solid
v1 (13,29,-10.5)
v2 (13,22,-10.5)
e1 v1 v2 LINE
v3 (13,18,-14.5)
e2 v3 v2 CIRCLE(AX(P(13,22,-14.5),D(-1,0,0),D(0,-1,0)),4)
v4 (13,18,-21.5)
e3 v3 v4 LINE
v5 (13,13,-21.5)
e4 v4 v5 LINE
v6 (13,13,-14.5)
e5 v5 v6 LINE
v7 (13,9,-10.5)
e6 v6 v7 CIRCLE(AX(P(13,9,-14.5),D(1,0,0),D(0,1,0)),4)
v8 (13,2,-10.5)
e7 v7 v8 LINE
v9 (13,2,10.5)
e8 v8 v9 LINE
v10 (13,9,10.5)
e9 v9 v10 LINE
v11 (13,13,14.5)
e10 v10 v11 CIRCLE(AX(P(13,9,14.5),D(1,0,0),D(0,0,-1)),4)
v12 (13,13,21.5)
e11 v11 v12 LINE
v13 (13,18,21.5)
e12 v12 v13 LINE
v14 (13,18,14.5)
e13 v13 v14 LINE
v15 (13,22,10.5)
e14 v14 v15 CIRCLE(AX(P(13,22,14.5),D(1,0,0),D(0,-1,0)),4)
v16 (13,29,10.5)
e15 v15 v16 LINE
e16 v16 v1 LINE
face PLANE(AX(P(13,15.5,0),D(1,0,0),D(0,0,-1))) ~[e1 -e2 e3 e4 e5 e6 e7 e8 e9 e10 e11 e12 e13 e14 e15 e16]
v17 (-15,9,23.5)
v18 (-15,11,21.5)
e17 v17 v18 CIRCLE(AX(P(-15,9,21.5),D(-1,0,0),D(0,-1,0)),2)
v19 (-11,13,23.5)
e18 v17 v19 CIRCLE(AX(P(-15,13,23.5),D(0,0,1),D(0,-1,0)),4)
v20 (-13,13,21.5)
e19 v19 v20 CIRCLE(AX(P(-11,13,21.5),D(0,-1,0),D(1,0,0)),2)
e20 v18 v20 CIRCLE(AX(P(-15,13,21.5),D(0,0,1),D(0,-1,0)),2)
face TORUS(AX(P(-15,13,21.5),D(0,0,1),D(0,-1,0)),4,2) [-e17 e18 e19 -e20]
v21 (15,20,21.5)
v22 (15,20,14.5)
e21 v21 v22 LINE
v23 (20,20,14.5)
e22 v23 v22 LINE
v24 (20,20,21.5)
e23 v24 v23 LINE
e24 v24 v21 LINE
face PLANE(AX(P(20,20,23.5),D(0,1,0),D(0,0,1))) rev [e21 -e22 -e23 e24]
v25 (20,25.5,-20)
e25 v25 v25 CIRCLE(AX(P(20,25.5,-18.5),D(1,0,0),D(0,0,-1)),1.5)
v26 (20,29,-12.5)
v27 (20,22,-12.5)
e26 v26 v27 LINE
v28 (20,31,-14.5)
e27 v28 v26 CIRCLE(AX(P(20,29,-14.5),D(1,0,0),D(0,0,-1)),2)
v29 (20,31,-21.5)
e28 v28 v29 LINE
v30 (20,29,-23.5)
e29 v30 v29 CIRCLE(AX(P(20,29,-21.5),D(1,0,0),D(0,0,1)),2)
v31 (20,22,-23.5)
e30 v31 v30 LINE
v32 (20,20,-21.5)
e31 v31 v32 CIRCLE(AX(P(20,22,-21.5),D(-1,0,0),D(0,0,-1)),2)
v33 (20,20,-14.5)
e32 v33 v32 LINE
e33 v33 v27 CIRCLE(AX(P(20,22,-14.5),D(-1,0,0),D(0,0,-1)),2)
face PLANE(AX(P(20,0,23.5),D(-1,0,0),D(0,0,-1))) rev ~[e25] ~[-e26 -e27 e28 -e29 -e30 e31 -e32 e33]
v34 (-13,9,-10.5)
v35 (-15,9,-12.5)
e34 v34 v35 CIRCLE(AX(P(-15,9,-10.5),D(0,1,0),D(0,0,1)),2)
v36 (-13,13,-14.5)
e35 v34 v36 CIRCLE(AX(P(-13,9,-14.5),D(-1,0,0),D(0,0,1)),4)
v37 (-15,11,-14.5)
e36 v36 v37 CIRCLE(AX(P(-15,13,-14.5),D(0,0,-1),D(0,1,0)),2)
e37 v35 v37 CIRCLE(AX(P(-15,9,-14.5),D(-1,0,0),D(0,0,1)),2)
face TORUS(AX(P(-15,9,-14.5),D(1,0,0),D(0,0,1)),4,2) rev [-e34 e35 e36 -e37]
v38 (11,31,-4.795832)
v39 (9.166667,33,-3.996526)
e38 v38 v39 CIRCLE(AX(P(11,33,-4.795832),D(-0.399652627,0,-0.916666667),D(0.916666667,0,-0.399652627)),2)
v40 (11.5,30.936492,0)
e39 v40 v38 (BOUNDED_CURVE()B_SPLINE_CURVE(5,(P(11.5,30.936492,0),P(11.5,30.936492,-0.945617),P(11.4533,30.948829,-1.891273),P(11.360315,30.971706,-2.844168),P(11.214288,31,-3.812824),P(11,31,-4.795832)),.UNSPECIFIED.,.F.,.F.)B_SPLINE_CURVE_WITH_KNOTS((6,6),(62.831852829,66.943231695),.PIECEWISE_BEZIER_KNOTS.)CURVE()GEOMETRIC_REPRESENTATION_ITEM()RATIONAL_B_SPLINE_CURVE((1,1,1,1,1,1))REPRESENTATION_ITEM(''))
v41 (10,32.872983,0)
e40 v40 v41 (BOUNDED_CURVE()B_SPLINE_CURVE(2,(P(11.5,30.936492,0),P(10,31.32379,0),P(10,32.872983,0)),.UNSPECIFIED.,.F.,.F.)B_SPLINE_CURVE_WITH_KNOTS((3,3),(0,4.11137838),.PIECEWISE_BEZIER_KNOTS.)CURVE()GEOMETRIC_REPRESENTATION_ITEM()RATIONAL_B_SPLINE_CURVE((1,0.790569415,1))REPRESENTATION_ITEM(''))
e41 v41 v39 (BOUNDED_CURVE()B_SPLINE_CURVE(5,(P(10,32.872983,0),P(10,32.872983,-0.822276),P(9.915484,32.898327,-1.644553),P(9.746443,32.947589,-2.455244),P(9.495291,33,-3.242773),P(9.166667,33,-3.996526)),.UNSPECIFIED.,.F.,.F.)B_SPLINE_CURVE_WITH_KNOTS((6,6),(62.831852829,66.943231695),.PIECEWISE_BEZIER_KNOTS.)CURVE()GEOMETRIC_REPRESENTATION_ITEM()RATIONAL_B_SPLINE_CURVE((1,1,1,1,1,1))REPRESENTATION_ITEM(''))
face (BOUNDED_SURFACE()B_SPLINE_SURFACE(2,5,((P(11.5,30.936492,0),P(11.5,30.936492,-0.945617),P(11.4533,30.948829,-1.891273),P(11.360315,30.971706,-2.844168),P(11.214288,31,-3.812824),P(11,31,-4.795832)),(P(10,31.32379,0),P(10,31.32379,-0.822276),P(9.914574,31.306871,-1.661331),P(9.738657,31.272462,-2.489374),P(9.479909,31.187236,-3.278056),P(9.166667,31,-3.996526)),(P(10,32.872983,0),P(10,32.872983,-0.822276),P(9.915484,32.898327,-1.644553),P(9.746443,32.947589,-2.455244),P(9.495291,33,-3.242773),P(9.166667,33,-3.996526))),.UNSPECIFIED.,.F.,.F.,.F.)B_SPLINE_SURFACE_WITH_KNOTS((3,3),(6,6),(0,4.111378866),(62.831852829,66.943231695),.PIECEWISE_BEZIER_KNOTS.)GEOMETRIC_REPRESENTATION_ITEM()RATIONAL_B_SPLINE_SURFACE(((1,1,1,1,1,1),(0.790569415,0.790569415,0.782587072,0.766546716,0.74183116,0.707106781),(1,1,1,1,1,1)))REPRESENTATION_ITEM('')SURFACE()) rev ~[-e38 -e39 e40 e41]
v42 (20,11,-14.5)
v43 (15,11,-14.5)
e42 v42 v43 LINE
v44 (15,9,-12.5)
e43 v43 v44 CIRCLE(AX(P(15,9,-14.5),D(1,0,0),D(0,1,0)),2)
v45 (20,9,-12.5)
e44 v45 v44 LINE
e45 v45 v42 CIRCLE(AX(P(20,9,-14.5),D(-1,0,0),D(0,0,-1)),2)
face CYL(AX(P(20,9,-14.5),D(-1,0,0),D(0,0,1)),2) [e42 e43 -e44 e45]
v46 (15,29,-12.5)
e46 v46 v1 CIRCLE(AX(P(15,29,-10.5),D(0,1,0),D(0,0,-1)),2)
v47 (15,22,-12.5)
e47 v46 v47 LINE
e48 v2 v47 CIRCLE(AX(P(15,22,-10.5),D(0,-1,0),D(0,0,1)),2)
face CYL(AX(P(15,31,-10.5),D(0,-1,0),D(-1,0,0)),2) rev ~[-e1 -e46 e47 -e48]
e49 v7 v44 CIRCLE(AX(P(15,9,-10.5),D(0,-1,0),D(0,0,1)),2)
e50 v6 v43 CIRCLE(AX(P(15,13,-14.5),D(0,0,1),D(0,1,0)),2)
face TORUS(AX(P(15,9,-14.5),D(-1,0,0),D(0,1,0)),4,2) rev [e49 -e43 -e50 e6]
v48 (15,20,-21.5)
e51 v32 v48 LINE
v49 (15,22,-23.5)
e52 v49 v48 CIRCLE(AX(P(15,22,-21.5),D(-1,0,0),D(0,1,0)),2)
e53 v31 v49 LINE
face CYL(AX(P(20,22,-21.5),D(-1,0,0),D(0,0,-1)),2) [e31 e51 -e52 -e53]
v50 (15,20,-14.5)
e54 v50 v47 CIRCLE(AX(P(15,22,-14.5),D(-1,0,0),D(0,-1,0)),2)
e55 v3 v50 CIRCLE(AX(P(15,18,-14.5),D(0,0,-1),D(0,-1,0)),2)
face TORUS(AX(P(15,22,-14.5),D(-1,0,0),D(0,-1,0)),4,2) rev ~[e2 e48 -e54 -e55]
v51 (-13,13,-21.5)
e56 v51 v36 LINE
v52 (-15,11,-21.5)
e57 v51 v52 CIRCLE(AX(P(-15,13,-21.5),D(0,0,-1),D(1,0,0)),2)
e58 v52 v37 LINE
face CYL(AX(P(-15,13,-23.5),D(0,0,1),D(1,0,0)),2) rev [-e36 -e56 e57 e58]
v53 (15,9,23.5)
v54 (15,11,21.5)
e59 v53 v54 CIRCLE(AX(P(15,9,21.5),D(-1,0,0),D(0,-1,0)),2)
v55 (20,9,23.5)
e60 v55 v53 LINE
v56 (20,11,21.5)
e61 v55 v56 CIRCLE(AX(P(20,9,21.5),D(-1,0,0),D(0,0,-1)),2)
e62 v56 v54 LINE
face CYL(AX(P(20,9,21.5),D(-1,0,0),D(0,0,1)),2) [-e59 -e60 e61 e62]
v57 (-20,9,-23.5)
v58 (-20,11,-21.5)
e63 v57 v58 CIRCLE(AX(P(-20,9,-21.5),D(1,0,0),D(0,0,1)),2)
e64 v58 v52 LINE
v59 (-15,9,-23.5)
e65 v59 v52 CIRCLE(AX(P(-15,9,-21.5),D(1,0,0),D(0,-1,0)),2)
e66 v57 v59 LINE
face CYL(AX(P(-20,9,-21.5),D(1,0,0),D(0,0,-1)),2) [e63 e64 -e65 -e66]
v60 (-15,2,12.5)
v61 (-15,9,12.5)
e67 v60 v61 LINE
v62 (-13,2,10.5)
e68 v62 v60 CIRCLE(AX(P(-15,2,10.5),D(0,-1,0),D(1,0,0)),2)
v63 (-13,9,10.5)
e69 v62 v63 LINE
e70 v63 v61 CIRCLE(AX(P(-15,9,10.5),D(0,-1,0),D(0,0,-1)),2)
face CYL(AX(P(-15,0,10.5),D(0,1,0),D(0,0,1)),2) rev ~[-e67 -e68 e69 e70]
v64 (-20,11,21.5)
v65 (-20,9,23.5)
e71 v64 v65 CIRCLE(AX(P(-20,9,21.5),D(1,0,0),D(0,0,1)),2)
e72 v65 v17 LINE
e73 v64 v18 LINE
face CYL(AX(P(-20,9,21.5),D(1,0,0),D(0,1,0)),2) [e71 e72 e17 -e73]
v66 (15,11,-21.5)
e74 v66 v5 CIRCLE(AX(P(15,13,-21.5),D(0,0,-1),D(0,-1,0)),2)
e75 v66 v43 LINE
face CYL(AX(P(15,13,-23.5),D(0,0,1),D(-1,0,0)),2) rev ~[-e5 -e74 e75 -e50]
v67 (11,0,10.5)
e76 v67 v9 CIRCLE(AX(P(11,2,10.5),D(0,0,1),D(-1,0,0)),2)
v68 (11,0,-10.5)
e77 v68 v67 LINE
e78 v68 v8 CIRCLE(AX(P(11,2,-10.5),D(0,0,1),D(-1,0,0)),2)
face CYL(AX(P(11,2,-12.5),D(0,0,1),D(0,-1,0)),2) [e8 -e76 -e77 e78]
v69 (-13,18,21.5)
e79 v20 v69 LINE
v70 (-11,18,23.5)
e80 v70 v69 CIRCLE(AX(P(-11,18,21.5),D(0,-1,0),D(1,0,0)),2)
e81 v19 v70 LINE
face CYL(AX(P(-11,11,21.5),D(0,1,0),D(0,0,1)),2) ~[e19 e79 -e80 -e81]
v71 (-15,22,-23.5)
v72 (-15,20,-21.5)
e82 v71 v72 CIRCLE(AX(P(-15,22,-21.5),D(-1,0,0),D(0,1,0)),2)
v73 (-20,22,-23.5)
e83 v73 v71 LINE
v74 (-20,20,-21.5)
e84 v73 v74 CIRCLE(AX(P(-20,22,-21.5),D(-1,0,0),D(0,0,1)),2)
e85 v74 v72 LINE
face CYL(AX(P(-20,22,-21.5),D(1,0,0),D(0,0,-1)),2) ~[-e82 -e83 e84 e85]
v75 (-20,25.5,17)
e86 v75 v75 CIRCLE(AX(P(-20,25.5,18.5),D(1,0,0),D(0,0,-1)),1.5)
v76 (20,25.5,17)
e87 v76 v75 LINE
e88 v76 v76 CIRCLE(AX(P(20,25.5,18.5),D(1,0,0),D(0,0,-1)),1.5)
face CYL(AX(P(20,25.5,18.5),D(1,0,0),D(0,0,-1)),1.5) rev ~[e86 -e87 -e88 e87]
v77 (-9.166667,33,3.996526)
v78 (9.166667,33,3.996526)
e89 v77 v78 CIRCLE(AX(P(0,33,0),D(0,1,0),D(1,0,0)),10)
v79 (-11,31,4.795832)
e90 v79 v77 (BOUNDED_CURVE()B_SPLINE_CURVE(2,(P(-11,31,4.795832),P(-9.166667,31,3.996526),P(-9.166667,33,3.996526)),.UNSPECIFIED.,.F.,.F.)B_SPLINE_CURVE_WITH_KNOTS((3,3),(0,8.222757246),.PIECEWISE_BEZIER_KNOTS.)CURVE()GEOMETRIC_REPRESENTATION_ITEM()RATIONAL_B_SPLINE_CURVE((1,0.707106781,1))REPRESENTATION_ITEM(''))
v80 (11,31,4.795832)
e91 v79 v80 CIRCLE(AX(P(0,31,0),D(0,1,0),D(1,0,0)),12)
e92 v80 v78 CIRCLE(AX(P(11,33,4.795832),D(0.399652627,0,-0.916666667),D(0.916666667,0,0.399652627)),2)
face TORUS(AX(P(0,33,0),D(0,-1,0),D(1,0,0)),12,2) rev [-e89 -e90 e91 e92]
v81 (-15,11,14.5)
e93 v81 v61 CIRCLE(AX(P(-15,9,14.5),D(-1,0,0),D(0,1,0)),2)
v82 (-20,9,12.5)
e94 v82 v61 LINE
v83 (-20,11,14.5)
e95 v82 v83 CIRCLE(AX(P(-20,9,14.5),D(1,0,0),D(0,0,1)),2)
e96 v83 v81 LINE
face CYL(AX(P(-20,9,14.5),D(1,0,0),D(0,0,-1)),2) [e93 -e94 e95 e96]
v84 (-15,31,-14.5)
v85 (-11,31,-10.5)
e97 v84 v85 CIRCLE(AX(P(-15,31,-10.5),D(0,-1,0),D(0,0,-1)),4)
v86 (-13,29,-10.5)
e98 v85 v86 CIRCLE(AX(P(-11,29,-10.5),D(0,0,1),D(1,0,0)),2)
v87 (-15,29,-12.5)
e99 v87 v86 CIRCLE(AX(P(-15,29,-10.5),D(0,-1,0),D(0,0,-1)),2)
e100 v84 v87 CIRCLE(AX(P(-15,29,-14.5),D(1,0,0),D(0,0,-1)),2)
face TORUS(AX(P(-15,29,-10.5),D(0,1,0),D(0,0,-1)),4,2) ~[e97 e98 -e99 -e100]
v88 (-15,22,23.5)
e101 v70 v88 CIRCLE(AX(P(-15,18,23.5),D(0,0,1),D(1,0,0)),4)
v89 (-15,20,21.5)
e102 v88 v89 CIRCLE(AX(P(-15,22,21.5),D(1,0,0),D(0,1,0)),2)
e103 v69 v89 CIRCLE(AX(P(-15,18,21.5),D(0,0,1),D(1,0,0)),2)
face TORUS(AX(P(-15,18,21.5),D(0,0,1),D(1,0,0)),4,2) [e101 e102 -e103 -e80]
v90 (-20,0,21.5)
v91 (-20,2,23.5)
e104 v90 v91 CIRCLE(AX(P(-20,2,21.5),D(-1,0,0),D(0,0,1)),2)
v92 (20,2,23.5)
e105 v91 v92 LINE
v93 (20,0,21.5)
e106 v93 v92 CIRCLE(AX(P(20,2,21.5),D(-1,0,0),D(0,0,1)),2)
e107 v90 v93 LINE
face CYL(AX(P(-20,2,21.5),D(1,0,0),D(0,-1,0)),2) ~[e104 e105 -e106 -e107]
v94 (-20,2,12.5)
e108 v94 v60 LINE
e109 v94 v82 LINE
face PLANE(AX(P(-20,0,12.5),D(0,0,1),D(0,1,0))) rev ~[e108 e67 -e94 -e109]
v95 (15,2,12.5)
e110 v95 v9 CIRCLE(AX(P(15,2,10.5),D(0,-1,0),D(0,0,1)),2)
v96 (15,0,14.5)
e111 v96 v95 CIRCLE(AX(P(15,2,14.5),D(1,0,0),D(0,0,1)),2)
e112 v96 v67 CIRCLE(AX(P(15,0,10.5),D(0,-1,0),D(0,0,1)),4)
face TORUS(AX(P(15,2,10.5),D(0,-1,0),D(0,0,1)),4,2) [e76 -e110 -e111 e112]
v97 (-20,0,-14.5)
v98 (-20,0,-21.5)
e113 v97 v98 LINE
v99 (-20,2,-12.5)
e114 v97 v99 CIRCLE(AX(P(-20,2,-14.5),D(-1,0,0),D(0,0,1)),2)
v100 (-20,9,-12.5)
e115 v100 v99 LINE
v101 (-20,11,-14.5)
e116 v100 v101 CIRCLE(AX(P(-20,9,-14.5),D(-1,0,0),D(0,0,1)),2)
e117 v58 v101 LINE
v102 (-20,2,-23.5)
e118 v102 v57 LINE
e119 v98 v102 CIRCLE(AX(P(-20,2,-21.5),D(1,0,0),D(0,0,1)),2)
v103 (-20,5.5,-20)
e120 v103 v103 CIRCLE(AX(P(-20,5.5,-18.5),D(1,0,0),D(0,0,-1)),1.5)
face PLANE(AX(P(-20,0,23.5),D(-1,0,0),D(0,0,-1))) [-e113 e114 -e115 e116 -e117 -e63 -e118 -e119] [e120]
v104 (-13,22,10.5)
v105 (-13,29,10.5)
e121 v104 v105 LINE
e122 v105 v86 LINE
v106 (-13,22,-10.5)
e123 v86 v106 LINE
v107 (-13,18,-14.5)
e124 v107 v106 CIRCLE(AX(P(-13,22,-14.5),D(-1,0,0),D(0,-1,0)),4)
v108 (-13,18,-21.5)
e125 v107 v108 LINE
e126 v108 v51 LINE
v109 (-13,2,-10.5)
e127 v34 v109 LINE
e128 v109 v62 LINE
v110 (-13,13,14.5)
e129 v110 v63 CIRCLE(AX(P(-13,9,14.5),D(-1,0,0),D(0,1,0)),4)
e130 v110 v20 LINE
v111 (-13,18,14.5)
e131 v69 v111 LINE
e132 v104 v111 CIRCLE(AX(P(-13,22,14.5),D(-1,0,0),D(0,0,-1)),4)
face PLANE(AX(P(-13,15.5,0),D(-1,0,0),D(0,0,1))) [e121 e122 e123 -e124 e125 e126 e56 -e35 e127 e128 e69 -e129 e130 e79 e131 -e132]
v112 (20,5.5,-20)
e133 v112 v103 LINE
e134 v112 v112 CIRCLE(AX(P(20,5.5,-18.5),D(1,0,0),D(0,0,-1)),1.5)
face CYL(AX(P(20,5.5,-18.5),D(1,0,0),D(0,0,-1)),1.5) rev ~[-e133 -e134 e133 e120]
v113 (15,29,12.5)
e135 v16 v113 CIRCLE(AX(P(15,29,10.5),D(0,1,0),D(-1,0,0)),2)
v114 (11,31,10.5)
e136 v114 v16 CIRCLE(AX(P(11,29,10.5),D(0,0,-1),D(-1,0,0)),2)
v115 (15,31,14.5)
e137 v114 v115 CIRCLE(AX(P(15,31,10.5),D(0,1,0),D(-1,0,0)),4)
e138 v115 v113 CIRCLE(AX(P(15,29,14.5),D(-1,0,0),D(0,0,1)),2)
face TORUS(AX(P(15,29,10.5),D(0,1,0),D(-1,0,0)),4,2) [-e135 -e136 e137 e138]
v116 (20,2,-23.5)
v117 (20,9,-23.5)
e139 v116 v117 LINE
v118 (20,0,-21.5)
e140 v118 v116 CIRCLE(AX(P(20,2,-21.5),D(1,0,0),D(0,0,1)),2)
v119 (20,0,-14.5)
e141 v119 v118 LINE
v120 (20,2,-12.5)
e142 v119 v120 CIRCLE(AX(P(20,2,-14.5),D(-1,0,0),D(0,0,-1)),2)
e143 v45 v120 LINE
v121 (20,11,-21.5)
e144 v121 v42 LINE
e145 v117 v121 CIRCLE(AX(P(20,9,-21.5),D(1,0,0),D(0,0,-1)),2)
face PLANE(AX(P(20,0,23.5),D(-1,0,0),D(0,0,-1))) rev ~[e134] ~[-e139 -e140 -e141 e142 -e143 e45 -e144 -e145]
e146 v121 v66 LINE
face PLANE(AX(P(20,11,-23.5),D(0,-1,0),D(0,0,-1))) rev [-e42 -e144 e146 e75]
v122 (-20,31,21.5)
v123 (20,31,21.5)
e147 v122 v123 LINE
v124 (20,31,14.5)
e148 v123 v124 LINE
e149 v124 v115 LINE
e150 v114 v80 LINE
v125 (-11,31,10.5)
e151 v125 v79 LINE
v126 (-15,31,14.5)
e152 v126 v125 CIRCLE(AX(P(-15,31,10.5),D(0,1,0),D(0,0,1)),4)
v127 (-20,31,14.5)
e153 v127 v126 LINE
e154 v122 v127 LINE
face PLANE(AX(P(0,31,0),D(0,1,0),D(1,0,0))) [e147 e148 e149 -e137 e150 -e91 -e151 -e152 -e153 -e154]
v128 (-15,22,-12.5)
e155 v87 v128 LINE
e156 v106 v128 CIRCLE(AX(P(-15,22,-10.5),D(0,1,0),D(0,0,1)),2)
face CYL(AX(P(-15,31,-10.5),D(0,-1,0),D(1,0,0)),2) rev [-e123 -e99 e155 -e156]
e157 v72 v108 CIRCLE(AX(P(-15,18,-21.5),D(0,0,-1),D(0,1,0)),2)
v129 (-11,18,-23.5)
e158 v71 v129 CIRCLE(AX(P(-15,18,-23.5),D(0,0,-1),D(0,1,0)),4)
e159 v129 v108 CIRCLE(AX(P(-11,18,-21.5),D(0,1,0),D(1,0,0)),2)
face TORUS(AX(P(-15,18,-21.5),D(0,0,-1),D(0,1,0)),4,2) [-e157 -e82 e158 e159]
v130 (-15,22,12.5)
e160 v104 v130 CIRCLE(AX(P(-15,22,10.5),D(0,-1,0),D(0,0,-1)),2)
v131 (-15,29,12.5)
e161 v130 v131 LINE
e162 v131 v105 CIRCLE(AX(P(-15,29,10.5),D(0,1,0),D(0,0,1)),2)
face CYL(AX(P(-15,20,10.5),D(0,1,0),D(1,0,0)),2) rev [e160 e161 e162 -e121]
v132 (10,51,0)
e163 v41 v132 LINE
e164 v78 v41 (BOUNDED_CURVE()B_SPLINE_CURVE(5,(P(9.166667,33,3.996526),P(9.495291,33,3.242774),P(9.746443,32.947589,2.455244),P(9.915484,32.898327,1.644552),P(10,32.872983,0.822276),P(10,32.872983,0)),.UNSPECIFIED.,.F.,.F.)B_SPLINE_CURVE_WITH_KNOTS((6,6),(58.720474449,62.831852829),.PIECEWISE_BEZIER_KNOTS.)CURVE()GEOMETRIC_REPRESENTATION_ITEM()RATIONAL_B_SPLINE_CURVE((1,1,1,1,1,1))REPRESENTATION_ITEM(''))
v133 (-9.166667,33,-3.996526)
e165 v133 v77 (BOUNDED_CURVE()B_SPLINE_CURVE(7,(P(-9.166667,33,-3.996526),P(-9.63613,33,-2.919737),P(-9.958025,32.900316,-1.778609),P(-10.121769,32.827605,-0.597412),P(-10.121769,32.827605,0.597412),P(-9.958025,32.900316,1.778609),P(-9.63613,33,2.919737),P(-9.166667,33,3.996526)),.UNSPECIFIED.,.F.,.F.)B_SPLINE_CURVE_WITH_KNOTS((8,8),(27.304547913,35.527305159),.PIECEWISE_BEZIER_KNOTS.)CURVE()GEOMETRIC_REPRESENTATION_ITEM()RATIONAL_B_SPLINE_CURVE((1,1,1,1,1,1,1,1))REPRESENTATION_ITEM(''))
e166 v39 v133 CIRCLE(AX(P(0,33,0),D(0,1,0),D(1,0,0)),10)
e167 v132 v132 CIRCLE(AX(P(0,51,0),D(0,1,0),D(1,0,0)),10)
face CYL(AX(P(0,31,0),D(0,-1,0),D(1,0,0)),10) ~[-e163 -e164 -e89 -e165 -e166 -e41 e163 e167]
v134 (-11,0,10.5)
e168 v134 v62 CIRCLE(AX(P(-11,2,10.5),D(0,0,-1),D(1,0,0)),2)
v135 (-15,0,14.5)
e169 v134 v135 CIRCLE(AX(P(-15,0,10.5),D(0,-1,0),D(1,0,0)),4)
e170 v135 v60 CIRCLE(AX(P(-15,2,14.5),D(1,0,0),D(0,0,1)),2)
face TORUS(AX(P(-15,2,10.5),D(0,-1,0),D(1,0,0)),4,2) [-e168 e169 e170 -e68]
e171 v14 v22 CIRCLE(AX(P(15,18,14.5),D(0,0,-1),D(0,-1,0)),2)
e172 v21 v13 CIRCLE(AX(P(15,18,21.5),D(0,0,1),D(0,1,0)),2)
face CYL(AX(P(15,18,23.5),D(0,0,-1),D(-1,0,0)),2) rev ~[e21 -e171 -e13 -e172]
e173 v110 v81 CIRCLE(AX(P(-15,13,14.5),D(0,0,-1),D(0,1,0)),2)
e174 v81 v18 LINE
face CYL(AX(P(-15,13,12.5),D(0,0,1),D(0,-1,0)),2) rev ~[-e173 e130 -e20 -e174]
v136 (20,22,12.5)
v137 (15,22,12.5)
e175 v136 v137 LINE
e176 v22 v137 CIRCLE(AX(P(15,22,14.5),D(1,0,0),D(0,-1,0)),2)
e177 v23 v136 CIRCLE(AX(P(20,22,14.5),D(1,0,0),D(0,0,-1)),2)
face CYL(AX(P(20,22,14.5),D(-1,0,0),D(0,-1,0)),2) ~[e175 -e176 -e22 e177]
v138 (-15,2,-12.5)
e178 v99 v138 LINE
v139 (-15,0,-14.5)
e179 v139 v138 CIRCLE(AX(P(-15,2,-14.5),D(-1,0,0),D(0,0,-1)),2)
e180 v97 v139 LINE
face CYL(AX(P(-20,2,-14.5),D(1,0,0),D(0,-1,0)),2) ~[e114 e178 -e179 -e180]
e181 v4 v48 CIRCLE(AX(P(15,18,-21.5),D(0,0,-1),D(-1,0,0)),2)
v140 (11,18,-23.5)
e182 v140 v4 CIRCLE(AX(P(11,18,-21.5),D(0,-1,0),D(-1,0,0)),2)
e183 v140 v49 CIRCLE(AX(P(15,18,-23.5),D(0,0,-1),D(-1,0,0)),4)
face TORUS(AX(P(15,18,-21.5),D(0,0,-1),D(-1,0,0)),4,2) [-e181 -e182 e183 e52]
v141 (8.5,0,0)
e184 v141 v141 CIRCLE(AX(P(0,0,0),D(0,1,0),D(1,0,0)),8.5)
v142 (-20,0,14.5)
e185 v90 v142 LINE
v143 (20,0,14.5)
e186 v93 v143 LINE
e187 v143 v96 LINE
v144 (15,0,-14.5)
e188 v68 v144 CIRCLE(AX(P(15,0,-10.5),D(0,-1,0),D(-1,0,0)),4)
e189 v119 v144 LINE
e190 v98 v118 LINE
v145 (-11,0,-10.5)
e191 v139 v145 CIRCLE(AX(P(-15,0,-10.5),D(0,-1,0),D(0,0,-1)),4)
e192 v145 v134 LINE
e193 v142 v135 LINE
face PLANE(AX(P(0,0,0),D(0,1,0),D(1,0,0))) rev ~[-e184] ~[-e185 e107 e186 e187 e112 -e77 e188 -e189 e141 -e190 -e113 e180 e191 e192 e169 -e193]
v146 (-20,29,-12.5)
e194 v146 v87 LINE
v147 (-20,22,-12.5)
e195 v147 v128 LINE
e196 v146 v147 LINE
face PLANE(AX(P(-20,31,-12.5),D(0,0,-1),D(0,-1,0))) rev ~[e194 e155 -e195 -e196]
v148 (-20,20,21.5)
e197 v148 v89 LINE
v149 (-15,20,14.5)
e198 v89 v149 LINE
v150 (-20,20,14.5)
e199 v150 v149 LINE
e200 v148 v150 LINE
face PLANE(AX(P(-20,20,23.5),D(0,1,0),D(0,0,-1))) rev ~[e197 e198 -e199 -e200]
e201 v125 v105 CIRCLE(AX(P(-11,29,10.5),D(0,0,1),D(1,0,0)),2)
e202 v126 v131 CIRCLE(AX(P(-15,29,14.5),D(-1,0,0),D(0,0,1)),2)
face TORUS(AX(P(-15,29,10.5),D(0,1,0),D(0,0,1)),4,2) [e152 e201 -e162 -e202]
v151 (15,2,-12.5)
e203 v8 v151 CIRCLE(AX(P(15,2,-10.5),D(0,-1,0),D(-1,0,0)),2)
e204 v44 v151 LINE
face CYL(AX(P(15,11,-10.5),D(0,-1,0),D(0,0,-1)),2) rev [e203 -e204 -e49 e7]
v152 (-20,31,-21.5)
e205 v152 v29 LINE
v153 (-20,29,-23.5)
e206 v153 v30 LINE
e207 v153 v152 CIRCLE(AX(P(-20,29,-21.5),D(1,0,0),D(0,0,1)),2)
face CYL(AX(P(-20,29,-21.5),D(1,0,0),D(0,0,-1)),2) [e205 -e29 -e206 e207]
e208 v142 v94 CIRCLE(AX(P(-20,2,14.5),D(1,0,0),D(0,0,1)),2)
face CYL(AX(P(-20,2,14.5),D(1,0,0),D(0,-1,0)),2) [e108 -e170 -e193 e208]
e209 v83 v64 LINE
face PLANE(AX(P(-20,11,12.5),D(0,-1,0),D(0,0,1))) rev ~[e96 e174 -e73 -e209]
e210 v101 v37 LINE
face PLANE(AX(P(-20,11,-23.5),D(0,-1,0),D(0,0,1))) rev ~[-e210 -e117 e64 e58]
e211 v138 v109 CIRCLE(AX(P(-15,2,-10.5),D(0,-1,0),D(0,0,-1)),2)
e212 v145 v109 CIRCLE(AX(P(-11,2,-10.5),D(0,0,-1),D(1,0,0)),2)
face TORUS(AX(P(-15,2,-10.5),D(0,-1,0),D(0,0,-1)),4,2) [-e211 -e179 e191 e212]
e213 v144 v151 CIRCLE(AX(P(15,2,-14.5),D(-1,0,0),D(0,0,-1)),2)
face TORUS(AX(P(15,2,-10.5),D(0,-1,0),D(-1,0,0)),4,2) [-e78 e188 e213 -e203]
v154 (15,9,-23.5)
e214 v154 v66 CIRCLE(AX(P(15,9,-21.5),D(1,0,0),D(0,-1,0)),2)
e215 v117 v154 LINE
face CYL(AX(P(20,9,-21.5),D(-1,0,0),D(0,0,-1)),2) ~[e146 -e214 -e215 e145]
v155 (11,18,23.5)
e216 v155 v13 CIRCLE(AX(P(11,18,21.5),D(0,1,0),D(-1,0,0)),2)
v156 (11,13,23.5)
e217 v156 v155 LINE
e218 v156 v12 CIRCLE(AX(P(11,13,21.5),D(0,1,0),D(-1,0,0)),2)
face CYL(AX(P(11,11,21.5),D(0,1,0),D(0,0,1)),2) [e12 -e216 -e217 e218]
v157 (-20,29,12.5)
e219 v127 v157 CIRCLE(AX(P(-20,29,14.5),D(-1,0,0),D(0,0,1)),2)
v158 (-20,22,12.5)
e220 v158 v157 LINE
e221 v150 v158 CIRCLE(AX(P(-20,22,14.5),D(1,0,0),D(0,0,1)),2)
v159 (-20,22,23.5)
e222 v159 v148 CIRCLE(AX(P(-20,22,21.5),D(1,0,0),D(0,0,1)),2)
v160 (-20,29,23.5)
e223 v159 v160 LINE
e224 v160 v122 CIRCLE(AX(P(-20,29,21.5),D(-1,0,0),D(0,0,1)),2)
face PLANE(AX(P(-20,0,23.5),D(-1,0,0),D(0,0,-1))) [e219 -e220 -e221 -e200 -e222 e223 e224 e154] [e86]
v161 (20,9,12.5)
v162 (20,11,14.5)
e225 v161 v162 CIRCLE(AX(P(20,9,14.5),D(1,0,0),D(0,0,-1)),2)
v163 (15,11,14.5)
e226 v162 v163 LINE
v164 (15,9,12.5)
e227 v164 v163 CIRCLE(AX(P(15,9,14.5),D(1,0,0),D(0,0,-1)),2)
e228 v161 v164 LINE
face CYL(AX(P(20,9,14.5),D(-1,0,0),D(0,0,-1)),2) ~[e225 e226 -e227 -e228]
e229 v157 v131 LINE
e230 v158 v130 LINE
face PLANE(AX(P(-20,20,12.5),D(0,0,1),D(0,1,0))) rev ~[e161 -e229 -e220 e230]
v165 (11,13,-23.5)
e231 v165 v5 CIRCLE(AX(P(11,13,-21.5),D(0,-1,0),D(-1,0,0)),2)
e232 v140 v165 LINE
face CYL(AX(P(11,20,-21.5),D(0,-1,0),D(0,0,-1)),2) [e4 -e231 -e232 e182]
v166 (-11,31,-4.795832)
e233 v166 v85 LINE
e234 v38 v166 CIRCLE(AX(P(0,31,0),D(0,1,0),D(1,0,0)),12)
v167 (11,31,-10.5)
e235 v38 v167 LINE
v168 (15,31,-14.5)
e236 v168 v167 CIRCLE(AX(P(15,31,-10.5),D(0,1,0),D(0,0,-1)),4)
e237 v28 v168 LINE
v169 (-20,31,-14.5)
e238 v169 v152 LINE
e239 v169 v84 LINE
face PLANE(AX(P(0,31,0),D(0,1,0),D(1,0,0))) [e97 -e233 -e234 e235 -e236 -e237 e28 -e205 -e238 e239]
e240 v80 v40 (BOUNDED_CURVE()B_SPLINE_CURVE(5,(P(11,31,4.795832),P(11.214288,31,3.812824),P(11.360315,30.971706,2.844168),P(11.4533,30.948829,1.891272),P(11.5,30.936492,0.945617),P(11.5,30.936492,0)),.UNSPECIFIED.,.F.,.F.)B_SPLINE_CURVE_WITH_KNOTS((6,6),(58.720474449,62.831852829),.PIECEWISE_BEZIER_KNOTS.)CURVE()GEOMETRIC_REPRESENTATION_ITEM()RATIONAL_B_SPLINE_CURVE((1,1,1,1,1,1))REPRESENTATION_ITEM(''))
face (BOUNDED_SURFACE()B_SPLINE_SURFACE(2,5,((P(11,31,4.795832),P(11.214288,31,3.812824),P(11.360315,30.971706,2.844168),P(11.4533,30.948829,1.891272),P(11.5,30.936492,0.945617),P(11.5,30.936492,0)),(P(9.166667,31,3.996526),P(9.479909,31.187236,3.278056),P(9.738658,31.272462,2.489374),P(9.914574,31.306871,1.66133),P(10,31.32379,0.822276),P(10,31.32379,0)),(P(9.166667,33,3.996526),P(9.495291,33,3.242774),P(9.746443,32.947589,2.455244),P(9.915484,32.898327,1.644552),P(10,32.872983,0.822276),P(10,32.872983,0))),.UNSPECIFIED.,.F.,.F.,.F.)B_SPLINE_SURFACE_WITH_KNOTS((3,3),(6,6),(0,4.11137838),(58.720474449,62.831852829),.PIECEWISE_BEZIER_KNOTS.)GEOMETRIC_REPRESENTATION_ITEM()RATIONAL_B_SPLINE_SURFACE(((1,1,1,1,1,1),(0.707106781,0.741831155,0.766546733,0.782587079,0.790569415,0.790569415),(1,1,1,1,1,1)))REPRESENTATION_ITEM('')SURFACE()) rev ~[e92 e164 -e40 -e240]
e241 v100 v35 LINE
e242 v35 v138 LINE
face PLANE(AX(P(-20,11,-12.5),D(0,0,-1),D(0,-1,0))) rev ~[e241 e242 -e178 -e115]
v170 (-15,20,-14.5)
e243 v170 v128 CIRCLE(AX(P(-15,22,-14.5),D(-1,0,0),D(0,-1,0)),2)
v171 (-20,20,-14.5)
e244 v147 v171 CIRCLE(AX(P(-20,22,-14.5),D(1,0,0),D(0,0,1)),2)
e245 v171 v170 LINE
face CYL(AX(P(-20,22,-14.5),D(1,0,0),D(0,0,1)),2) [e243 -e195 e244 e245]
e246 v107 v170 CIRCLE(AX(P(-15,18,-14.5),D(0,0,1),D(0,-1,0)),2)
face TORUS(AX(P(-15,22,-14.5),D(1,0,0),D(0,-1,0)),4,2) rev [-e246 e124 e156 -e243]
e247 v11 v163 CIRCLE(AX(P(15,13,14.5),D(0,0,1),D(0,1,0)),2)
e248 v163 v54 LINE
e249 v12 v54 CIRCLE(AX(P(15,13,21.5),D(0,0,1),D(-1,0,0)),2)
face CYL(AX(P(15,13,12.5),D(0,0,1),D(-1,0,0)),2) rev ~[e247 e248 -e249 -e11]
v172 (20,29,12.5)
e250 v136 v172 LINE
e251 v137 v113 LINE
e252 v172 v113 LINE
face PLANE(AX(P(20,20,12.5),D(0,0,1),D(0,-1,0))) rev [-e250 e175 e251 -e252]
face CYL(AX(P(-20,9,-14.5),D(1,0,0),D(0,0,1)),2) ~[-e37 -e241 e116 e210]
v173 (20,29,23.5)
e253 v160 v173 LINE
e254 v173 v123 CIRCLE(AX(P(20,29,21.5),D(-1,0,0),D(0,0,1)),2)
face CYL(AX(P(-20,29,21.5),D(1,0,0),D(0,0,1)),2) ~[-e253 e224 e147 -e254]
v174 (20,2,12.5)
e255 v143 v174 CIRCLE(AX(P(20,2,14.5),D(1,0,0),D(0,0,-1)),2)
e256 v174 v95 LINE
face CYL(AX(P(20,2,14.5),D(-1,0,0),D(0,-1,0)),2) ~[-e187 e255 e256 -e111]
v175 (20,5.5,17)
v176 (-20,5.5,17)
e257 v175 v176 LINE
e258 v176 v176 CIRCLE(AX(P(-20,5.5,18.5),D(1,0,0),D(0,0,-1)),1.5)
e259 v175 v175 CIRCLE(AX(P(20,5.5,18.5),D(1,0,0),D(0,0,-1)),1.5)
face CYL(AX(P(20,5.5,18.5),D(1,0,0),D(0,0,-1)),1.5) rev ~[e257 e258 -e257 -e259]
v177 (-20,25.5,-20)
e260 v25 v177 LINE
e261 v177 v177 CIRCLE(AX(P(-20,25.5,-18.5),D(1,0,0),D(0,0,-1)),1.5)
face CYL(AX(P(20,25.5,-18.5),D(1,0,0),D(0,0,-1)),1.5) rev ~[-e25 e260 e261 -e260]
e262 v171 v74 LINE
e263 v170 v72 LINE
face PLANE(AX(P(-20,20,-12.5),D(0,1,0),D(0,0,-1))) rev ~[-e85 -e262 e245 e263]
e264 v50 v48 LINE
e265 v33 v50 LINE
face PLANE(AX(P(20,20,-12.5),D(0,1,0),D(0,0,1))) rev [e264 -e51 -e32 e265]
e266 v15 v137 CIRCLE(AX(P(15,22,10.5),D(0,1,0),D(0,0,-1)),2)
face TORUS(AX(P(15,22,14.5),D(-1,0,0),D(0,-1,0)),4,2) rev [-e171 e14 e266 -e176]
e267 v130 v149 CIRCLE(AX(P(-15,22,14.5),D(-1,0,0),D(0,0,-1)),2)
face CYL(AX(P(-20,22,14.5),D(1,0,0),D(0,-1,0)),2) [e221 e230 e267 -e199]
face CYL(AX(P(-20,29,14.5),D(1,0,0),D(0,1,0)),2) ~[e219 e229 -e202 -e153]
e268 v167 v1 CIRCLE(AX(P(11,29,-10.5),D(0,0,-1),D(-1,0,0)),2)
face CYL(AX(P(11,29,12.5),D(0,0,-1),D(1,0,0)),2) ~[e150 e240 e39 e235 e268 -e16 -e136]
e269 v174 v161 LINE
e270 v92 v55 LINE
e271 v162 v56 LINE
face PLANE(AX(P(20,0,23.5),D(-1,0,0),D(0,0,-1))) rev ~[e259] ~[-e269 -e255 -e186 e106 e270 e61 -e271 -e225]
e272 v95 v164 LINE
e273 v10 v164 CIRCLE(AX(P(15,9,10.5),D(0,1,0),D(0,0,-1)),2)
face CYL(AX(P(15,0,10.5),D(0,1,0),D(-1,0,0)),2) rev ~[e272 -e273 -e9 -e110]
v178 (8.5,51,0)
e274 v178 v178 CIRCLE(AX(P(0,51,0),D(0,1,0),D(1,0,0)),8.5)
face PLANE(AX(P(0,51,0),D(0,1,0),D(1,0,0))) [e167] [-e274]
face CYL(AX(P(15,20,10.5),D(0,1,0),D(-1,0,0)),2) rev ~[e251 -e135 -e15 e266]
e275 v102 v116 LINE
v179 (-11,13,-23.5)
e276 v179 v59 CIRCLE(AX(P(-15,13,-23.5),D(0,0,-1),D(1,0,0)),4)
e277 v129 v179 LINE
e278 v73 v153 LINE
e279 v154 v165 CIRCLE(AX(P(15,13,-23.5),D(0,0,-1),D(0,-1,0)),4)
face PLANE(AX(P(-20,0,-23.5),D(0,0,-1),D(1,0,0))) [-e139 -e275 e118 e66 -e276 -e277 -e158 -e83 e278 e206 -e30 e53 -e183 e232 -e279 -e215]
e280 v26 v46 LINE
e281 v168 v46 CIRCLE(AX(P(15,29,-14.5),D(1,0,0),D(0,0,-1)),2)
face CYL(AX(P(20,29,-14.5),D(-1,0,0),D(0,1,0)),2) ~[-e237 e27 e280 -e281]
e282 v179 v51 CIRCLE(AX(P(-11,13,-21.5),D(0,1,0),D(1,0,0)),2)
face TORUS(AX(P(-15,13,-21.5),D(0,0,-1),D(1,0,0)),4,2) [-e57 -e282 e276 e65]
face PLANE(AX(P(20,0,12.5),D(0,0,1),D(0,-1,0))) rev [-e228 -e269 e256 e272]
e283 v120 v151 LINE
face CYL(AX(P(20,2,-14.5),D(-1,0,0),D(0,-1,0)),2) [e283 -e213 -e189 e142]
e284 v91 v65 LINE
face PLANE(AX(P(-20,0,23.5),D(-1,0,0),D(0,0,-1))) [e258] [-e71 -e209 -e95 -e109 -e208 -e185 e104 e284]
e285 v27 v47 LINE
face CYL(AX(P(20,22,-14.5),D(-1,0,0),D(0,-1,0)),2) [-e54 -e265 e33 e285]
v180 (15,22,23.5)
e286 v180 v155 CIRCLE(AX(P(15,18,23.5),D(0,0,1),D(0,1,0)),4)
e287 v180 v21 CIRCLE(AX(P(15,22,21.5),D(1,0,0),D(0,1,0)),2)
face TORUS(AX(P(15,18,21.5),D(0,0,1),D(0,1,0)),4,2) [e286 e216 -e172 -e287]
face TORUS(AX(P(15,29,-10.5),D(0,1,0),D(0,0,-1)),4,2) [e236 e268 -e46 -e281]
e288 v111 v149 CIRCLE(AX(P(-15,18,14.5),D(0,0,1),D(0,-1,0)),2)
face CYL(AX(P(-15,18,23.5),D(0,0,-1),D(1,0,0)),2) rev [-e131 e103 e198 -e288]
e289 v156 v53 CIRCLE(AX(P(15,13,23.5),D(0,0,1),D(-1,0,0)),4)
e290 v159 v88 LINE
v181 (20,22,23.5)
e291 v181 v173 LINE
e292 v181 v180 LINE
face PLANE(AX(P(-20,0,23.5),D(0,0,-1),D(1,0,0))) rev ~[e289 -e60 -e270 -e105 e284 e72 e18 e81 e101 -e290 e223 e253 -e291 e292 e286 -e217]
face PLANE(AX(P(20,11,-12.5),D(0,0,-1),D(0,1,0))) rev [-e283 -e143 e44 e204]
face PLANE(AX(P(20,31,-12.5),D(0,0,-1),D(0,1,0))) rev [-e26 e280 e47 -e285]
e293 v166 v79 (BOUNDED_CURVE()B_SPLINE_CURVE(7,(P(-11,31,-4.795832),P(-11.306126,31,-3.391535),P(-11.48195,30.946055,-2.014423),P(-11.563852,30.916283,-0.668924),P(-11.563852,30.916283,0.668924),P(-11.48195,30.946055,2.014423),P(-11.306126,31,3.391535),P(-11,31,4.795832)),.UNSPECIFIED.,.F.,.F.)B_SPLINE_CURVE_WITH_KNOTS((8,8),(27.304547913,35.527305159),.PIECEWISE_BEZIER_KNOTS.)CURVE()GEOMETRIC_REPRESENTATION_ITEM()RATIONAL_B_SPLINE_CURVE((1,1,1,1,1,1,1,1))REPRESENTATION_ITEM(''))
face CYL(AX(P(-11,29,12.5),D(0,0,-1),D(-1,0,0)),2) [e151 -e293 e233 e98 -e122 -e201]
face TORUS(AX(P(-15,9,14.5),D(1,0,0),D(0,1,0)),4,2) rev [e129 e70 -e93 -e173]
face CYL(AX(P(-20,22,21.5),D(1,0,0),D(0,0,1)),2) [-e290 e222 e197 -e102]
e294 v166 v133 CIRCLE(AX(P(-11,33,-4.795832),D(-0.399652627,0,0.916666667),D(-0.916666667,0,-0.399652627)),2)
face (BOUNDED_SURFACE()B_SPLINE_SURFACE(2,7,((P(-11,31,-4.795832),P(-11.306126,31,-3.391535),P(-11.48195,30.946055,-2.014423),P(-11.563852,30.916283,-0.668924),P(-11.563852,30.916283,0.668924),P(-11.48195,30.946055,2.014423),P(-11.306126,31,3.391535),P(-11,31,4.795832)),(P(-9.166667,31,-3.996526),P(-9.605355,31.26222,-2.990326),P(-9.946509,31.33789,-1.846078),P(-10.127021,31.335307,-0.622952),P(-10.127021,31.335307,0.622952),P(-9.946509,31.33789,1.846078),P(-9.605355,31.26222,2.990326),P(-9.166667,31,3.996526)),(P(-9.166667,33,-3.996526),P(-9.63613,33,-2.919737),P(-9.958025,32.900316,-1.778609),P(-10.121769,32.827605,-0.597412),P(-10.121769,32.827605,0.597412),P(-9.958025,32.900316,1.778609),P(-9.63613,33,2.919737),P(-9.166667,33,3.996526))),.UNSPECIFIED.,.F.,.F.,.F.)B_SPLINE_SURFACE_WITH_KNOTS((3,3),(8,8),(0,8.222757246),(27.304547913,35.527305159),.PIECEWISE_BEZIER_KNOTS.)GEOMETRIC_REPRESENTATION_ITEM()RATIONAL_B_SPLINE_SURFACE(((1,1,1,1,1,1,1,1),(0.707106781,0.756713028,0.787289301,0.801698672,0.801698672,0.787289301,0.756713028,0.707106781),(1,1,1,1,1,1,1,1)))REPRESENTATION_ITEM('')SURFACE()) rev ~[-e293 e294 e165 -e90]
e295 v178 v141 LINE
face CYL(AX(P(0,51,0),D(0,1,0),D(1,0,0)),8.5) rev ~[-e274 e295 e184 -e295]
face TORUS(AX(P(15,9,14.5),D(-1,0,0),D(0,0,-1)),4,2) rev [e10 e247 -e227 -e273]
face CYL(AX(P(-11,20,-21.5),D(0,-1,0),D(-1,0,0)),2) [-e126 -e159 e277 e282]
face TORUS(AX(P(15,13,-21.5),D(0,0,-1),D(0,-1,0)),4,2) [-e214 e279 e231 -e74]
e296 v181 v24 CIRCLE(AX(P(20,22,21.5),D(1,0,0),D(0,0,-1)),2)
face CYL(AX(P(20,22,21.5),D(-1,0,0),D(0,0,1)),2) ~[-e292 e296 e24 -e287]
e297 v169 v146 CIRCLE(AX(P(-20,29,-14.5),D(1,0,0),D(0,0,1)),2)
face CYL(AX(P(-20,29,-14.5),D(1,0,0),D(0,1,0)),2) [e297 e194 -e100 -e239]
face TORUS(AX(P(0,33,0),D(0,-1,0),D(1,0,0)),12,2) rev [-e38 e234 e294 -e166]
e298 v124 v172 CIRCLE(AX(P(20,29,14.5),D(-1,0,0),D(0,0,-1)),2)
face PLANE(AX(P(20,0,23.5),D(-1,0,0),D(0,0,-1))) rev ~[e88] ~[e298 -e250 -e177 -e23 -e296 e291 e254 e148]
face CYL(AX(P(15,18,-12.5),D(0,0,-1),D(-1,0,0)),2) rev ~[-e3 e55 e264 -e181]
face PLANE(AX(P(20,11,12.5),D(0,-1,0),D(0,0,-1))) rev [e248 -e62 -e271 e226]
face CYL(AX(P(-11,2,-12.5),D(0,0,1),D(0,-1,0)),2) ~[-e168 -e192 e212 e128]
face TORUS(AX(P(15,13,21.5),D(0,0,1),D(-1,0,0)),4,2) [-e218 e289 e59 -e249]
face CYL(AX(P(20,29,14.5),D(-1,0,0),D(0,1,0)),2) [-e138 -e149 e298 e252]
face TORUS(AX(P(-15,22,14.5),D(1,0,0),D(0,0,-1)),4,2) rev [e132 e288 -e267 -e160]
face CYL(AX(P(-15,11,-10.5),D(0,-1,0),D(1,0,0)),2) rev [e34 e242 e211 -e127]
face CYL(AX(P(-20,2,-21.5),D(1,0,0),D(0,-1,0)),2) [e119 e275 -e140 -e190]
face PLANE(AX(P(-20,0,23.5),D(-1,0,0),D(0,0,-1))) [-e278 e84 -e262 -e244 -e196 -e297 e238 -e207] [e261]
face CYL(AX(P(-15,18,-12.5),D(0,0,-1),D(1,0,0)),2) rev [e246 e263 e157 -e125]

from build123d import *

# Parameters (mm, degrees)
SKETCH1_W           = 40
SKETCH1_H           = 47
BOSS_EXTRUDE1_DEPTH = 31
SKETCH2_R           = 10
BOSS_EXTRUDE2_DEPTH = 20
SKETCH6_R           = 1.5
CUT_EXTRUDE2_DEPTH  = 69.943817707
CUT_EXTRUDE3_DEPTH  = 7
FILLET1_R           = 2
FILLET3_R           = 2
SKETCH9_R           = 8.5
CUT_EXTRUDE4_DEPTH  = 60.609143594


with BuildPart() as part:
    # Sketch1 → Boss-Extrude1 (new body)
    with BuildSketch(Plane(origin=(0, 0, 0), x_dir=(1, 0, 0), z_dir=(0, 1, 0))):
        Rectangle(SKETCH1_W, SKETCH1_H)
    extrude(amount=BOSS_EXTRUDE1_DEPTH)

    # Sketch2 → Boss-Extrude2 (add)
    with BuildSketch(Plane(origin=(0, 31, 0), x_dir=(1, 0, 0), z_dir=(0, 1, 0))):
        Circle(SKETCH2_R)
    extrude(amount=BOSS_EXTRUDE2_DEPTH)

    # Sketch6 → Cut-Extrude2 (cut, through all)
    with BuildSketch(Plane(origin=(20, 0, 0), x_dir=(0, 0, -1), z_dir=(1, 0, 0))):
        with Locations((18.5, 25.5)):
            Circle(SKETCH6_R)
        with Locations((18.5, 5.5)):
            Circle(SKETCH6_R)
        with Locations((-18.5, 5.5)):
            Circle(SKETCH6_R)
        with Locations((-18.5, 25.5)):
            Circle(SKETCH6_R)
    extrude(amount=-CUT_EXTRUDE2_DEPTH, mode=Mode.SUBTRACT)

    # Sketch8 → Cut-Extrude3 (cut)
    with BuildSketch(Plane.ZY.offset(20)):
        Polygon((12.5, 11), (23.5, 11), (23.5, 20), (12.5, 20), (12.5, 31), (-12.5, 31), (-12.5, 20), (-23.5, 20), (-23.5, 11), (-12.5, 11), (-12.5, 0), (12.5, 0), align=None)
    cut_extrude3 = extrude(amount=-CUT_EXTRUDE3_DEPTH, mode=Mode.SUBTRACT)

    # Mirror1: Cut-Extrude3 across plane
    add(cut_extrude3.mirror(Plane(origin=(0, 0, 0), x_dir=(0, 0, 1), z_dir=(1, 0, 0))), mode=Mode.SUBTRACT)

    # Fillet1
    fillet1_edges = [part.edges().sort_by_distance(p)[0] for p in [
        (-16.5, 31, 12.5),
        (-16.5, 31, -12.5),
        (-16.5, 20, 23.5),
        (-16.5, 11, 23.5),
        (-16.5, 0, 12.5),
        (-16.5, 0, -12.5),
        (-16.5, 11, -23.5),
        (-16.5, 20, -23.5),
        (-13, 31, 0),
        (-13, 25.5, 12.5),
        (-13, 20, 18),
        (-13, 15.5, 23.5),
        (-13, 11, 18),
        (-13, 5.5, 12.5),
        (-13, 0, 0),
        (-13, 5.5, -12.5),
        (-13, 11, -18),
        (-13, 15.5, -23.5),
        (-13, 20, -18),
        (-13, 25.5, -12.5),
        (0, 31, -23.5),
        (0, 0, -23.5),
        (0, 0, 23.5),
        (0, 31, 23.5),
        (-16.5, 11, 12.5),
        (-16.5, 11, -12.5),
        (-16.5, 20, -12.5),
        (-16.5, 20, 12.5),
        (16.5, 20, -23.5),
        (16.5, 11, -23.5),
        (16.5, 0, -12.5),
        (16.5, 0, 12.5),
        (16.5, 11, 23.5),
        (16.5, 20, 23.5),
        (16.5, 31, 12.5),
        (16.5, 31, -12.5),
        (13, 20, -18),
        (13, 15.5, -23.5),
        (13, 11, -18),
        (13, 5.5, -12.5),
        (13, 0, 0),
        (13, 5.5, 12.5),
        (13, 11, 18),
        (13, 15.5, 23.5),
        (13, 20, 18),
        (13, 25.5, 12.5),
        (13, 31, 0),
        (13, 25.5, -12.5),
        (16.5, 11, -12.5),
        (16.5, 20, -12.5),
        (16.5, 20, 12.5),
        (16.5, 11, 12.5),
    ]]
    fillet(fillet1_edges, radius=FILLET1_R)

    # Fillet3
    fillet3_edges = [part.edges().sort_by_distance(p)[0] for p in [
        (-10, 31, 0),
    ]]
    fillet(fillet3_edges, radius=FILLET3_R)

    # Sketch9 → Cut-Extrude4 (cut, through all)
    with BuildSketch(Plane(origin=(0, 51, 0), x_dir=(1, 0, 0), z_dir=(0, 1, 0))):
        Circle(SKETCH9_R)
    extrude(amount=-CUT_EXTRUDE4_DEPTH, mode=Mode.SUBTRACT)


solid = part.part
